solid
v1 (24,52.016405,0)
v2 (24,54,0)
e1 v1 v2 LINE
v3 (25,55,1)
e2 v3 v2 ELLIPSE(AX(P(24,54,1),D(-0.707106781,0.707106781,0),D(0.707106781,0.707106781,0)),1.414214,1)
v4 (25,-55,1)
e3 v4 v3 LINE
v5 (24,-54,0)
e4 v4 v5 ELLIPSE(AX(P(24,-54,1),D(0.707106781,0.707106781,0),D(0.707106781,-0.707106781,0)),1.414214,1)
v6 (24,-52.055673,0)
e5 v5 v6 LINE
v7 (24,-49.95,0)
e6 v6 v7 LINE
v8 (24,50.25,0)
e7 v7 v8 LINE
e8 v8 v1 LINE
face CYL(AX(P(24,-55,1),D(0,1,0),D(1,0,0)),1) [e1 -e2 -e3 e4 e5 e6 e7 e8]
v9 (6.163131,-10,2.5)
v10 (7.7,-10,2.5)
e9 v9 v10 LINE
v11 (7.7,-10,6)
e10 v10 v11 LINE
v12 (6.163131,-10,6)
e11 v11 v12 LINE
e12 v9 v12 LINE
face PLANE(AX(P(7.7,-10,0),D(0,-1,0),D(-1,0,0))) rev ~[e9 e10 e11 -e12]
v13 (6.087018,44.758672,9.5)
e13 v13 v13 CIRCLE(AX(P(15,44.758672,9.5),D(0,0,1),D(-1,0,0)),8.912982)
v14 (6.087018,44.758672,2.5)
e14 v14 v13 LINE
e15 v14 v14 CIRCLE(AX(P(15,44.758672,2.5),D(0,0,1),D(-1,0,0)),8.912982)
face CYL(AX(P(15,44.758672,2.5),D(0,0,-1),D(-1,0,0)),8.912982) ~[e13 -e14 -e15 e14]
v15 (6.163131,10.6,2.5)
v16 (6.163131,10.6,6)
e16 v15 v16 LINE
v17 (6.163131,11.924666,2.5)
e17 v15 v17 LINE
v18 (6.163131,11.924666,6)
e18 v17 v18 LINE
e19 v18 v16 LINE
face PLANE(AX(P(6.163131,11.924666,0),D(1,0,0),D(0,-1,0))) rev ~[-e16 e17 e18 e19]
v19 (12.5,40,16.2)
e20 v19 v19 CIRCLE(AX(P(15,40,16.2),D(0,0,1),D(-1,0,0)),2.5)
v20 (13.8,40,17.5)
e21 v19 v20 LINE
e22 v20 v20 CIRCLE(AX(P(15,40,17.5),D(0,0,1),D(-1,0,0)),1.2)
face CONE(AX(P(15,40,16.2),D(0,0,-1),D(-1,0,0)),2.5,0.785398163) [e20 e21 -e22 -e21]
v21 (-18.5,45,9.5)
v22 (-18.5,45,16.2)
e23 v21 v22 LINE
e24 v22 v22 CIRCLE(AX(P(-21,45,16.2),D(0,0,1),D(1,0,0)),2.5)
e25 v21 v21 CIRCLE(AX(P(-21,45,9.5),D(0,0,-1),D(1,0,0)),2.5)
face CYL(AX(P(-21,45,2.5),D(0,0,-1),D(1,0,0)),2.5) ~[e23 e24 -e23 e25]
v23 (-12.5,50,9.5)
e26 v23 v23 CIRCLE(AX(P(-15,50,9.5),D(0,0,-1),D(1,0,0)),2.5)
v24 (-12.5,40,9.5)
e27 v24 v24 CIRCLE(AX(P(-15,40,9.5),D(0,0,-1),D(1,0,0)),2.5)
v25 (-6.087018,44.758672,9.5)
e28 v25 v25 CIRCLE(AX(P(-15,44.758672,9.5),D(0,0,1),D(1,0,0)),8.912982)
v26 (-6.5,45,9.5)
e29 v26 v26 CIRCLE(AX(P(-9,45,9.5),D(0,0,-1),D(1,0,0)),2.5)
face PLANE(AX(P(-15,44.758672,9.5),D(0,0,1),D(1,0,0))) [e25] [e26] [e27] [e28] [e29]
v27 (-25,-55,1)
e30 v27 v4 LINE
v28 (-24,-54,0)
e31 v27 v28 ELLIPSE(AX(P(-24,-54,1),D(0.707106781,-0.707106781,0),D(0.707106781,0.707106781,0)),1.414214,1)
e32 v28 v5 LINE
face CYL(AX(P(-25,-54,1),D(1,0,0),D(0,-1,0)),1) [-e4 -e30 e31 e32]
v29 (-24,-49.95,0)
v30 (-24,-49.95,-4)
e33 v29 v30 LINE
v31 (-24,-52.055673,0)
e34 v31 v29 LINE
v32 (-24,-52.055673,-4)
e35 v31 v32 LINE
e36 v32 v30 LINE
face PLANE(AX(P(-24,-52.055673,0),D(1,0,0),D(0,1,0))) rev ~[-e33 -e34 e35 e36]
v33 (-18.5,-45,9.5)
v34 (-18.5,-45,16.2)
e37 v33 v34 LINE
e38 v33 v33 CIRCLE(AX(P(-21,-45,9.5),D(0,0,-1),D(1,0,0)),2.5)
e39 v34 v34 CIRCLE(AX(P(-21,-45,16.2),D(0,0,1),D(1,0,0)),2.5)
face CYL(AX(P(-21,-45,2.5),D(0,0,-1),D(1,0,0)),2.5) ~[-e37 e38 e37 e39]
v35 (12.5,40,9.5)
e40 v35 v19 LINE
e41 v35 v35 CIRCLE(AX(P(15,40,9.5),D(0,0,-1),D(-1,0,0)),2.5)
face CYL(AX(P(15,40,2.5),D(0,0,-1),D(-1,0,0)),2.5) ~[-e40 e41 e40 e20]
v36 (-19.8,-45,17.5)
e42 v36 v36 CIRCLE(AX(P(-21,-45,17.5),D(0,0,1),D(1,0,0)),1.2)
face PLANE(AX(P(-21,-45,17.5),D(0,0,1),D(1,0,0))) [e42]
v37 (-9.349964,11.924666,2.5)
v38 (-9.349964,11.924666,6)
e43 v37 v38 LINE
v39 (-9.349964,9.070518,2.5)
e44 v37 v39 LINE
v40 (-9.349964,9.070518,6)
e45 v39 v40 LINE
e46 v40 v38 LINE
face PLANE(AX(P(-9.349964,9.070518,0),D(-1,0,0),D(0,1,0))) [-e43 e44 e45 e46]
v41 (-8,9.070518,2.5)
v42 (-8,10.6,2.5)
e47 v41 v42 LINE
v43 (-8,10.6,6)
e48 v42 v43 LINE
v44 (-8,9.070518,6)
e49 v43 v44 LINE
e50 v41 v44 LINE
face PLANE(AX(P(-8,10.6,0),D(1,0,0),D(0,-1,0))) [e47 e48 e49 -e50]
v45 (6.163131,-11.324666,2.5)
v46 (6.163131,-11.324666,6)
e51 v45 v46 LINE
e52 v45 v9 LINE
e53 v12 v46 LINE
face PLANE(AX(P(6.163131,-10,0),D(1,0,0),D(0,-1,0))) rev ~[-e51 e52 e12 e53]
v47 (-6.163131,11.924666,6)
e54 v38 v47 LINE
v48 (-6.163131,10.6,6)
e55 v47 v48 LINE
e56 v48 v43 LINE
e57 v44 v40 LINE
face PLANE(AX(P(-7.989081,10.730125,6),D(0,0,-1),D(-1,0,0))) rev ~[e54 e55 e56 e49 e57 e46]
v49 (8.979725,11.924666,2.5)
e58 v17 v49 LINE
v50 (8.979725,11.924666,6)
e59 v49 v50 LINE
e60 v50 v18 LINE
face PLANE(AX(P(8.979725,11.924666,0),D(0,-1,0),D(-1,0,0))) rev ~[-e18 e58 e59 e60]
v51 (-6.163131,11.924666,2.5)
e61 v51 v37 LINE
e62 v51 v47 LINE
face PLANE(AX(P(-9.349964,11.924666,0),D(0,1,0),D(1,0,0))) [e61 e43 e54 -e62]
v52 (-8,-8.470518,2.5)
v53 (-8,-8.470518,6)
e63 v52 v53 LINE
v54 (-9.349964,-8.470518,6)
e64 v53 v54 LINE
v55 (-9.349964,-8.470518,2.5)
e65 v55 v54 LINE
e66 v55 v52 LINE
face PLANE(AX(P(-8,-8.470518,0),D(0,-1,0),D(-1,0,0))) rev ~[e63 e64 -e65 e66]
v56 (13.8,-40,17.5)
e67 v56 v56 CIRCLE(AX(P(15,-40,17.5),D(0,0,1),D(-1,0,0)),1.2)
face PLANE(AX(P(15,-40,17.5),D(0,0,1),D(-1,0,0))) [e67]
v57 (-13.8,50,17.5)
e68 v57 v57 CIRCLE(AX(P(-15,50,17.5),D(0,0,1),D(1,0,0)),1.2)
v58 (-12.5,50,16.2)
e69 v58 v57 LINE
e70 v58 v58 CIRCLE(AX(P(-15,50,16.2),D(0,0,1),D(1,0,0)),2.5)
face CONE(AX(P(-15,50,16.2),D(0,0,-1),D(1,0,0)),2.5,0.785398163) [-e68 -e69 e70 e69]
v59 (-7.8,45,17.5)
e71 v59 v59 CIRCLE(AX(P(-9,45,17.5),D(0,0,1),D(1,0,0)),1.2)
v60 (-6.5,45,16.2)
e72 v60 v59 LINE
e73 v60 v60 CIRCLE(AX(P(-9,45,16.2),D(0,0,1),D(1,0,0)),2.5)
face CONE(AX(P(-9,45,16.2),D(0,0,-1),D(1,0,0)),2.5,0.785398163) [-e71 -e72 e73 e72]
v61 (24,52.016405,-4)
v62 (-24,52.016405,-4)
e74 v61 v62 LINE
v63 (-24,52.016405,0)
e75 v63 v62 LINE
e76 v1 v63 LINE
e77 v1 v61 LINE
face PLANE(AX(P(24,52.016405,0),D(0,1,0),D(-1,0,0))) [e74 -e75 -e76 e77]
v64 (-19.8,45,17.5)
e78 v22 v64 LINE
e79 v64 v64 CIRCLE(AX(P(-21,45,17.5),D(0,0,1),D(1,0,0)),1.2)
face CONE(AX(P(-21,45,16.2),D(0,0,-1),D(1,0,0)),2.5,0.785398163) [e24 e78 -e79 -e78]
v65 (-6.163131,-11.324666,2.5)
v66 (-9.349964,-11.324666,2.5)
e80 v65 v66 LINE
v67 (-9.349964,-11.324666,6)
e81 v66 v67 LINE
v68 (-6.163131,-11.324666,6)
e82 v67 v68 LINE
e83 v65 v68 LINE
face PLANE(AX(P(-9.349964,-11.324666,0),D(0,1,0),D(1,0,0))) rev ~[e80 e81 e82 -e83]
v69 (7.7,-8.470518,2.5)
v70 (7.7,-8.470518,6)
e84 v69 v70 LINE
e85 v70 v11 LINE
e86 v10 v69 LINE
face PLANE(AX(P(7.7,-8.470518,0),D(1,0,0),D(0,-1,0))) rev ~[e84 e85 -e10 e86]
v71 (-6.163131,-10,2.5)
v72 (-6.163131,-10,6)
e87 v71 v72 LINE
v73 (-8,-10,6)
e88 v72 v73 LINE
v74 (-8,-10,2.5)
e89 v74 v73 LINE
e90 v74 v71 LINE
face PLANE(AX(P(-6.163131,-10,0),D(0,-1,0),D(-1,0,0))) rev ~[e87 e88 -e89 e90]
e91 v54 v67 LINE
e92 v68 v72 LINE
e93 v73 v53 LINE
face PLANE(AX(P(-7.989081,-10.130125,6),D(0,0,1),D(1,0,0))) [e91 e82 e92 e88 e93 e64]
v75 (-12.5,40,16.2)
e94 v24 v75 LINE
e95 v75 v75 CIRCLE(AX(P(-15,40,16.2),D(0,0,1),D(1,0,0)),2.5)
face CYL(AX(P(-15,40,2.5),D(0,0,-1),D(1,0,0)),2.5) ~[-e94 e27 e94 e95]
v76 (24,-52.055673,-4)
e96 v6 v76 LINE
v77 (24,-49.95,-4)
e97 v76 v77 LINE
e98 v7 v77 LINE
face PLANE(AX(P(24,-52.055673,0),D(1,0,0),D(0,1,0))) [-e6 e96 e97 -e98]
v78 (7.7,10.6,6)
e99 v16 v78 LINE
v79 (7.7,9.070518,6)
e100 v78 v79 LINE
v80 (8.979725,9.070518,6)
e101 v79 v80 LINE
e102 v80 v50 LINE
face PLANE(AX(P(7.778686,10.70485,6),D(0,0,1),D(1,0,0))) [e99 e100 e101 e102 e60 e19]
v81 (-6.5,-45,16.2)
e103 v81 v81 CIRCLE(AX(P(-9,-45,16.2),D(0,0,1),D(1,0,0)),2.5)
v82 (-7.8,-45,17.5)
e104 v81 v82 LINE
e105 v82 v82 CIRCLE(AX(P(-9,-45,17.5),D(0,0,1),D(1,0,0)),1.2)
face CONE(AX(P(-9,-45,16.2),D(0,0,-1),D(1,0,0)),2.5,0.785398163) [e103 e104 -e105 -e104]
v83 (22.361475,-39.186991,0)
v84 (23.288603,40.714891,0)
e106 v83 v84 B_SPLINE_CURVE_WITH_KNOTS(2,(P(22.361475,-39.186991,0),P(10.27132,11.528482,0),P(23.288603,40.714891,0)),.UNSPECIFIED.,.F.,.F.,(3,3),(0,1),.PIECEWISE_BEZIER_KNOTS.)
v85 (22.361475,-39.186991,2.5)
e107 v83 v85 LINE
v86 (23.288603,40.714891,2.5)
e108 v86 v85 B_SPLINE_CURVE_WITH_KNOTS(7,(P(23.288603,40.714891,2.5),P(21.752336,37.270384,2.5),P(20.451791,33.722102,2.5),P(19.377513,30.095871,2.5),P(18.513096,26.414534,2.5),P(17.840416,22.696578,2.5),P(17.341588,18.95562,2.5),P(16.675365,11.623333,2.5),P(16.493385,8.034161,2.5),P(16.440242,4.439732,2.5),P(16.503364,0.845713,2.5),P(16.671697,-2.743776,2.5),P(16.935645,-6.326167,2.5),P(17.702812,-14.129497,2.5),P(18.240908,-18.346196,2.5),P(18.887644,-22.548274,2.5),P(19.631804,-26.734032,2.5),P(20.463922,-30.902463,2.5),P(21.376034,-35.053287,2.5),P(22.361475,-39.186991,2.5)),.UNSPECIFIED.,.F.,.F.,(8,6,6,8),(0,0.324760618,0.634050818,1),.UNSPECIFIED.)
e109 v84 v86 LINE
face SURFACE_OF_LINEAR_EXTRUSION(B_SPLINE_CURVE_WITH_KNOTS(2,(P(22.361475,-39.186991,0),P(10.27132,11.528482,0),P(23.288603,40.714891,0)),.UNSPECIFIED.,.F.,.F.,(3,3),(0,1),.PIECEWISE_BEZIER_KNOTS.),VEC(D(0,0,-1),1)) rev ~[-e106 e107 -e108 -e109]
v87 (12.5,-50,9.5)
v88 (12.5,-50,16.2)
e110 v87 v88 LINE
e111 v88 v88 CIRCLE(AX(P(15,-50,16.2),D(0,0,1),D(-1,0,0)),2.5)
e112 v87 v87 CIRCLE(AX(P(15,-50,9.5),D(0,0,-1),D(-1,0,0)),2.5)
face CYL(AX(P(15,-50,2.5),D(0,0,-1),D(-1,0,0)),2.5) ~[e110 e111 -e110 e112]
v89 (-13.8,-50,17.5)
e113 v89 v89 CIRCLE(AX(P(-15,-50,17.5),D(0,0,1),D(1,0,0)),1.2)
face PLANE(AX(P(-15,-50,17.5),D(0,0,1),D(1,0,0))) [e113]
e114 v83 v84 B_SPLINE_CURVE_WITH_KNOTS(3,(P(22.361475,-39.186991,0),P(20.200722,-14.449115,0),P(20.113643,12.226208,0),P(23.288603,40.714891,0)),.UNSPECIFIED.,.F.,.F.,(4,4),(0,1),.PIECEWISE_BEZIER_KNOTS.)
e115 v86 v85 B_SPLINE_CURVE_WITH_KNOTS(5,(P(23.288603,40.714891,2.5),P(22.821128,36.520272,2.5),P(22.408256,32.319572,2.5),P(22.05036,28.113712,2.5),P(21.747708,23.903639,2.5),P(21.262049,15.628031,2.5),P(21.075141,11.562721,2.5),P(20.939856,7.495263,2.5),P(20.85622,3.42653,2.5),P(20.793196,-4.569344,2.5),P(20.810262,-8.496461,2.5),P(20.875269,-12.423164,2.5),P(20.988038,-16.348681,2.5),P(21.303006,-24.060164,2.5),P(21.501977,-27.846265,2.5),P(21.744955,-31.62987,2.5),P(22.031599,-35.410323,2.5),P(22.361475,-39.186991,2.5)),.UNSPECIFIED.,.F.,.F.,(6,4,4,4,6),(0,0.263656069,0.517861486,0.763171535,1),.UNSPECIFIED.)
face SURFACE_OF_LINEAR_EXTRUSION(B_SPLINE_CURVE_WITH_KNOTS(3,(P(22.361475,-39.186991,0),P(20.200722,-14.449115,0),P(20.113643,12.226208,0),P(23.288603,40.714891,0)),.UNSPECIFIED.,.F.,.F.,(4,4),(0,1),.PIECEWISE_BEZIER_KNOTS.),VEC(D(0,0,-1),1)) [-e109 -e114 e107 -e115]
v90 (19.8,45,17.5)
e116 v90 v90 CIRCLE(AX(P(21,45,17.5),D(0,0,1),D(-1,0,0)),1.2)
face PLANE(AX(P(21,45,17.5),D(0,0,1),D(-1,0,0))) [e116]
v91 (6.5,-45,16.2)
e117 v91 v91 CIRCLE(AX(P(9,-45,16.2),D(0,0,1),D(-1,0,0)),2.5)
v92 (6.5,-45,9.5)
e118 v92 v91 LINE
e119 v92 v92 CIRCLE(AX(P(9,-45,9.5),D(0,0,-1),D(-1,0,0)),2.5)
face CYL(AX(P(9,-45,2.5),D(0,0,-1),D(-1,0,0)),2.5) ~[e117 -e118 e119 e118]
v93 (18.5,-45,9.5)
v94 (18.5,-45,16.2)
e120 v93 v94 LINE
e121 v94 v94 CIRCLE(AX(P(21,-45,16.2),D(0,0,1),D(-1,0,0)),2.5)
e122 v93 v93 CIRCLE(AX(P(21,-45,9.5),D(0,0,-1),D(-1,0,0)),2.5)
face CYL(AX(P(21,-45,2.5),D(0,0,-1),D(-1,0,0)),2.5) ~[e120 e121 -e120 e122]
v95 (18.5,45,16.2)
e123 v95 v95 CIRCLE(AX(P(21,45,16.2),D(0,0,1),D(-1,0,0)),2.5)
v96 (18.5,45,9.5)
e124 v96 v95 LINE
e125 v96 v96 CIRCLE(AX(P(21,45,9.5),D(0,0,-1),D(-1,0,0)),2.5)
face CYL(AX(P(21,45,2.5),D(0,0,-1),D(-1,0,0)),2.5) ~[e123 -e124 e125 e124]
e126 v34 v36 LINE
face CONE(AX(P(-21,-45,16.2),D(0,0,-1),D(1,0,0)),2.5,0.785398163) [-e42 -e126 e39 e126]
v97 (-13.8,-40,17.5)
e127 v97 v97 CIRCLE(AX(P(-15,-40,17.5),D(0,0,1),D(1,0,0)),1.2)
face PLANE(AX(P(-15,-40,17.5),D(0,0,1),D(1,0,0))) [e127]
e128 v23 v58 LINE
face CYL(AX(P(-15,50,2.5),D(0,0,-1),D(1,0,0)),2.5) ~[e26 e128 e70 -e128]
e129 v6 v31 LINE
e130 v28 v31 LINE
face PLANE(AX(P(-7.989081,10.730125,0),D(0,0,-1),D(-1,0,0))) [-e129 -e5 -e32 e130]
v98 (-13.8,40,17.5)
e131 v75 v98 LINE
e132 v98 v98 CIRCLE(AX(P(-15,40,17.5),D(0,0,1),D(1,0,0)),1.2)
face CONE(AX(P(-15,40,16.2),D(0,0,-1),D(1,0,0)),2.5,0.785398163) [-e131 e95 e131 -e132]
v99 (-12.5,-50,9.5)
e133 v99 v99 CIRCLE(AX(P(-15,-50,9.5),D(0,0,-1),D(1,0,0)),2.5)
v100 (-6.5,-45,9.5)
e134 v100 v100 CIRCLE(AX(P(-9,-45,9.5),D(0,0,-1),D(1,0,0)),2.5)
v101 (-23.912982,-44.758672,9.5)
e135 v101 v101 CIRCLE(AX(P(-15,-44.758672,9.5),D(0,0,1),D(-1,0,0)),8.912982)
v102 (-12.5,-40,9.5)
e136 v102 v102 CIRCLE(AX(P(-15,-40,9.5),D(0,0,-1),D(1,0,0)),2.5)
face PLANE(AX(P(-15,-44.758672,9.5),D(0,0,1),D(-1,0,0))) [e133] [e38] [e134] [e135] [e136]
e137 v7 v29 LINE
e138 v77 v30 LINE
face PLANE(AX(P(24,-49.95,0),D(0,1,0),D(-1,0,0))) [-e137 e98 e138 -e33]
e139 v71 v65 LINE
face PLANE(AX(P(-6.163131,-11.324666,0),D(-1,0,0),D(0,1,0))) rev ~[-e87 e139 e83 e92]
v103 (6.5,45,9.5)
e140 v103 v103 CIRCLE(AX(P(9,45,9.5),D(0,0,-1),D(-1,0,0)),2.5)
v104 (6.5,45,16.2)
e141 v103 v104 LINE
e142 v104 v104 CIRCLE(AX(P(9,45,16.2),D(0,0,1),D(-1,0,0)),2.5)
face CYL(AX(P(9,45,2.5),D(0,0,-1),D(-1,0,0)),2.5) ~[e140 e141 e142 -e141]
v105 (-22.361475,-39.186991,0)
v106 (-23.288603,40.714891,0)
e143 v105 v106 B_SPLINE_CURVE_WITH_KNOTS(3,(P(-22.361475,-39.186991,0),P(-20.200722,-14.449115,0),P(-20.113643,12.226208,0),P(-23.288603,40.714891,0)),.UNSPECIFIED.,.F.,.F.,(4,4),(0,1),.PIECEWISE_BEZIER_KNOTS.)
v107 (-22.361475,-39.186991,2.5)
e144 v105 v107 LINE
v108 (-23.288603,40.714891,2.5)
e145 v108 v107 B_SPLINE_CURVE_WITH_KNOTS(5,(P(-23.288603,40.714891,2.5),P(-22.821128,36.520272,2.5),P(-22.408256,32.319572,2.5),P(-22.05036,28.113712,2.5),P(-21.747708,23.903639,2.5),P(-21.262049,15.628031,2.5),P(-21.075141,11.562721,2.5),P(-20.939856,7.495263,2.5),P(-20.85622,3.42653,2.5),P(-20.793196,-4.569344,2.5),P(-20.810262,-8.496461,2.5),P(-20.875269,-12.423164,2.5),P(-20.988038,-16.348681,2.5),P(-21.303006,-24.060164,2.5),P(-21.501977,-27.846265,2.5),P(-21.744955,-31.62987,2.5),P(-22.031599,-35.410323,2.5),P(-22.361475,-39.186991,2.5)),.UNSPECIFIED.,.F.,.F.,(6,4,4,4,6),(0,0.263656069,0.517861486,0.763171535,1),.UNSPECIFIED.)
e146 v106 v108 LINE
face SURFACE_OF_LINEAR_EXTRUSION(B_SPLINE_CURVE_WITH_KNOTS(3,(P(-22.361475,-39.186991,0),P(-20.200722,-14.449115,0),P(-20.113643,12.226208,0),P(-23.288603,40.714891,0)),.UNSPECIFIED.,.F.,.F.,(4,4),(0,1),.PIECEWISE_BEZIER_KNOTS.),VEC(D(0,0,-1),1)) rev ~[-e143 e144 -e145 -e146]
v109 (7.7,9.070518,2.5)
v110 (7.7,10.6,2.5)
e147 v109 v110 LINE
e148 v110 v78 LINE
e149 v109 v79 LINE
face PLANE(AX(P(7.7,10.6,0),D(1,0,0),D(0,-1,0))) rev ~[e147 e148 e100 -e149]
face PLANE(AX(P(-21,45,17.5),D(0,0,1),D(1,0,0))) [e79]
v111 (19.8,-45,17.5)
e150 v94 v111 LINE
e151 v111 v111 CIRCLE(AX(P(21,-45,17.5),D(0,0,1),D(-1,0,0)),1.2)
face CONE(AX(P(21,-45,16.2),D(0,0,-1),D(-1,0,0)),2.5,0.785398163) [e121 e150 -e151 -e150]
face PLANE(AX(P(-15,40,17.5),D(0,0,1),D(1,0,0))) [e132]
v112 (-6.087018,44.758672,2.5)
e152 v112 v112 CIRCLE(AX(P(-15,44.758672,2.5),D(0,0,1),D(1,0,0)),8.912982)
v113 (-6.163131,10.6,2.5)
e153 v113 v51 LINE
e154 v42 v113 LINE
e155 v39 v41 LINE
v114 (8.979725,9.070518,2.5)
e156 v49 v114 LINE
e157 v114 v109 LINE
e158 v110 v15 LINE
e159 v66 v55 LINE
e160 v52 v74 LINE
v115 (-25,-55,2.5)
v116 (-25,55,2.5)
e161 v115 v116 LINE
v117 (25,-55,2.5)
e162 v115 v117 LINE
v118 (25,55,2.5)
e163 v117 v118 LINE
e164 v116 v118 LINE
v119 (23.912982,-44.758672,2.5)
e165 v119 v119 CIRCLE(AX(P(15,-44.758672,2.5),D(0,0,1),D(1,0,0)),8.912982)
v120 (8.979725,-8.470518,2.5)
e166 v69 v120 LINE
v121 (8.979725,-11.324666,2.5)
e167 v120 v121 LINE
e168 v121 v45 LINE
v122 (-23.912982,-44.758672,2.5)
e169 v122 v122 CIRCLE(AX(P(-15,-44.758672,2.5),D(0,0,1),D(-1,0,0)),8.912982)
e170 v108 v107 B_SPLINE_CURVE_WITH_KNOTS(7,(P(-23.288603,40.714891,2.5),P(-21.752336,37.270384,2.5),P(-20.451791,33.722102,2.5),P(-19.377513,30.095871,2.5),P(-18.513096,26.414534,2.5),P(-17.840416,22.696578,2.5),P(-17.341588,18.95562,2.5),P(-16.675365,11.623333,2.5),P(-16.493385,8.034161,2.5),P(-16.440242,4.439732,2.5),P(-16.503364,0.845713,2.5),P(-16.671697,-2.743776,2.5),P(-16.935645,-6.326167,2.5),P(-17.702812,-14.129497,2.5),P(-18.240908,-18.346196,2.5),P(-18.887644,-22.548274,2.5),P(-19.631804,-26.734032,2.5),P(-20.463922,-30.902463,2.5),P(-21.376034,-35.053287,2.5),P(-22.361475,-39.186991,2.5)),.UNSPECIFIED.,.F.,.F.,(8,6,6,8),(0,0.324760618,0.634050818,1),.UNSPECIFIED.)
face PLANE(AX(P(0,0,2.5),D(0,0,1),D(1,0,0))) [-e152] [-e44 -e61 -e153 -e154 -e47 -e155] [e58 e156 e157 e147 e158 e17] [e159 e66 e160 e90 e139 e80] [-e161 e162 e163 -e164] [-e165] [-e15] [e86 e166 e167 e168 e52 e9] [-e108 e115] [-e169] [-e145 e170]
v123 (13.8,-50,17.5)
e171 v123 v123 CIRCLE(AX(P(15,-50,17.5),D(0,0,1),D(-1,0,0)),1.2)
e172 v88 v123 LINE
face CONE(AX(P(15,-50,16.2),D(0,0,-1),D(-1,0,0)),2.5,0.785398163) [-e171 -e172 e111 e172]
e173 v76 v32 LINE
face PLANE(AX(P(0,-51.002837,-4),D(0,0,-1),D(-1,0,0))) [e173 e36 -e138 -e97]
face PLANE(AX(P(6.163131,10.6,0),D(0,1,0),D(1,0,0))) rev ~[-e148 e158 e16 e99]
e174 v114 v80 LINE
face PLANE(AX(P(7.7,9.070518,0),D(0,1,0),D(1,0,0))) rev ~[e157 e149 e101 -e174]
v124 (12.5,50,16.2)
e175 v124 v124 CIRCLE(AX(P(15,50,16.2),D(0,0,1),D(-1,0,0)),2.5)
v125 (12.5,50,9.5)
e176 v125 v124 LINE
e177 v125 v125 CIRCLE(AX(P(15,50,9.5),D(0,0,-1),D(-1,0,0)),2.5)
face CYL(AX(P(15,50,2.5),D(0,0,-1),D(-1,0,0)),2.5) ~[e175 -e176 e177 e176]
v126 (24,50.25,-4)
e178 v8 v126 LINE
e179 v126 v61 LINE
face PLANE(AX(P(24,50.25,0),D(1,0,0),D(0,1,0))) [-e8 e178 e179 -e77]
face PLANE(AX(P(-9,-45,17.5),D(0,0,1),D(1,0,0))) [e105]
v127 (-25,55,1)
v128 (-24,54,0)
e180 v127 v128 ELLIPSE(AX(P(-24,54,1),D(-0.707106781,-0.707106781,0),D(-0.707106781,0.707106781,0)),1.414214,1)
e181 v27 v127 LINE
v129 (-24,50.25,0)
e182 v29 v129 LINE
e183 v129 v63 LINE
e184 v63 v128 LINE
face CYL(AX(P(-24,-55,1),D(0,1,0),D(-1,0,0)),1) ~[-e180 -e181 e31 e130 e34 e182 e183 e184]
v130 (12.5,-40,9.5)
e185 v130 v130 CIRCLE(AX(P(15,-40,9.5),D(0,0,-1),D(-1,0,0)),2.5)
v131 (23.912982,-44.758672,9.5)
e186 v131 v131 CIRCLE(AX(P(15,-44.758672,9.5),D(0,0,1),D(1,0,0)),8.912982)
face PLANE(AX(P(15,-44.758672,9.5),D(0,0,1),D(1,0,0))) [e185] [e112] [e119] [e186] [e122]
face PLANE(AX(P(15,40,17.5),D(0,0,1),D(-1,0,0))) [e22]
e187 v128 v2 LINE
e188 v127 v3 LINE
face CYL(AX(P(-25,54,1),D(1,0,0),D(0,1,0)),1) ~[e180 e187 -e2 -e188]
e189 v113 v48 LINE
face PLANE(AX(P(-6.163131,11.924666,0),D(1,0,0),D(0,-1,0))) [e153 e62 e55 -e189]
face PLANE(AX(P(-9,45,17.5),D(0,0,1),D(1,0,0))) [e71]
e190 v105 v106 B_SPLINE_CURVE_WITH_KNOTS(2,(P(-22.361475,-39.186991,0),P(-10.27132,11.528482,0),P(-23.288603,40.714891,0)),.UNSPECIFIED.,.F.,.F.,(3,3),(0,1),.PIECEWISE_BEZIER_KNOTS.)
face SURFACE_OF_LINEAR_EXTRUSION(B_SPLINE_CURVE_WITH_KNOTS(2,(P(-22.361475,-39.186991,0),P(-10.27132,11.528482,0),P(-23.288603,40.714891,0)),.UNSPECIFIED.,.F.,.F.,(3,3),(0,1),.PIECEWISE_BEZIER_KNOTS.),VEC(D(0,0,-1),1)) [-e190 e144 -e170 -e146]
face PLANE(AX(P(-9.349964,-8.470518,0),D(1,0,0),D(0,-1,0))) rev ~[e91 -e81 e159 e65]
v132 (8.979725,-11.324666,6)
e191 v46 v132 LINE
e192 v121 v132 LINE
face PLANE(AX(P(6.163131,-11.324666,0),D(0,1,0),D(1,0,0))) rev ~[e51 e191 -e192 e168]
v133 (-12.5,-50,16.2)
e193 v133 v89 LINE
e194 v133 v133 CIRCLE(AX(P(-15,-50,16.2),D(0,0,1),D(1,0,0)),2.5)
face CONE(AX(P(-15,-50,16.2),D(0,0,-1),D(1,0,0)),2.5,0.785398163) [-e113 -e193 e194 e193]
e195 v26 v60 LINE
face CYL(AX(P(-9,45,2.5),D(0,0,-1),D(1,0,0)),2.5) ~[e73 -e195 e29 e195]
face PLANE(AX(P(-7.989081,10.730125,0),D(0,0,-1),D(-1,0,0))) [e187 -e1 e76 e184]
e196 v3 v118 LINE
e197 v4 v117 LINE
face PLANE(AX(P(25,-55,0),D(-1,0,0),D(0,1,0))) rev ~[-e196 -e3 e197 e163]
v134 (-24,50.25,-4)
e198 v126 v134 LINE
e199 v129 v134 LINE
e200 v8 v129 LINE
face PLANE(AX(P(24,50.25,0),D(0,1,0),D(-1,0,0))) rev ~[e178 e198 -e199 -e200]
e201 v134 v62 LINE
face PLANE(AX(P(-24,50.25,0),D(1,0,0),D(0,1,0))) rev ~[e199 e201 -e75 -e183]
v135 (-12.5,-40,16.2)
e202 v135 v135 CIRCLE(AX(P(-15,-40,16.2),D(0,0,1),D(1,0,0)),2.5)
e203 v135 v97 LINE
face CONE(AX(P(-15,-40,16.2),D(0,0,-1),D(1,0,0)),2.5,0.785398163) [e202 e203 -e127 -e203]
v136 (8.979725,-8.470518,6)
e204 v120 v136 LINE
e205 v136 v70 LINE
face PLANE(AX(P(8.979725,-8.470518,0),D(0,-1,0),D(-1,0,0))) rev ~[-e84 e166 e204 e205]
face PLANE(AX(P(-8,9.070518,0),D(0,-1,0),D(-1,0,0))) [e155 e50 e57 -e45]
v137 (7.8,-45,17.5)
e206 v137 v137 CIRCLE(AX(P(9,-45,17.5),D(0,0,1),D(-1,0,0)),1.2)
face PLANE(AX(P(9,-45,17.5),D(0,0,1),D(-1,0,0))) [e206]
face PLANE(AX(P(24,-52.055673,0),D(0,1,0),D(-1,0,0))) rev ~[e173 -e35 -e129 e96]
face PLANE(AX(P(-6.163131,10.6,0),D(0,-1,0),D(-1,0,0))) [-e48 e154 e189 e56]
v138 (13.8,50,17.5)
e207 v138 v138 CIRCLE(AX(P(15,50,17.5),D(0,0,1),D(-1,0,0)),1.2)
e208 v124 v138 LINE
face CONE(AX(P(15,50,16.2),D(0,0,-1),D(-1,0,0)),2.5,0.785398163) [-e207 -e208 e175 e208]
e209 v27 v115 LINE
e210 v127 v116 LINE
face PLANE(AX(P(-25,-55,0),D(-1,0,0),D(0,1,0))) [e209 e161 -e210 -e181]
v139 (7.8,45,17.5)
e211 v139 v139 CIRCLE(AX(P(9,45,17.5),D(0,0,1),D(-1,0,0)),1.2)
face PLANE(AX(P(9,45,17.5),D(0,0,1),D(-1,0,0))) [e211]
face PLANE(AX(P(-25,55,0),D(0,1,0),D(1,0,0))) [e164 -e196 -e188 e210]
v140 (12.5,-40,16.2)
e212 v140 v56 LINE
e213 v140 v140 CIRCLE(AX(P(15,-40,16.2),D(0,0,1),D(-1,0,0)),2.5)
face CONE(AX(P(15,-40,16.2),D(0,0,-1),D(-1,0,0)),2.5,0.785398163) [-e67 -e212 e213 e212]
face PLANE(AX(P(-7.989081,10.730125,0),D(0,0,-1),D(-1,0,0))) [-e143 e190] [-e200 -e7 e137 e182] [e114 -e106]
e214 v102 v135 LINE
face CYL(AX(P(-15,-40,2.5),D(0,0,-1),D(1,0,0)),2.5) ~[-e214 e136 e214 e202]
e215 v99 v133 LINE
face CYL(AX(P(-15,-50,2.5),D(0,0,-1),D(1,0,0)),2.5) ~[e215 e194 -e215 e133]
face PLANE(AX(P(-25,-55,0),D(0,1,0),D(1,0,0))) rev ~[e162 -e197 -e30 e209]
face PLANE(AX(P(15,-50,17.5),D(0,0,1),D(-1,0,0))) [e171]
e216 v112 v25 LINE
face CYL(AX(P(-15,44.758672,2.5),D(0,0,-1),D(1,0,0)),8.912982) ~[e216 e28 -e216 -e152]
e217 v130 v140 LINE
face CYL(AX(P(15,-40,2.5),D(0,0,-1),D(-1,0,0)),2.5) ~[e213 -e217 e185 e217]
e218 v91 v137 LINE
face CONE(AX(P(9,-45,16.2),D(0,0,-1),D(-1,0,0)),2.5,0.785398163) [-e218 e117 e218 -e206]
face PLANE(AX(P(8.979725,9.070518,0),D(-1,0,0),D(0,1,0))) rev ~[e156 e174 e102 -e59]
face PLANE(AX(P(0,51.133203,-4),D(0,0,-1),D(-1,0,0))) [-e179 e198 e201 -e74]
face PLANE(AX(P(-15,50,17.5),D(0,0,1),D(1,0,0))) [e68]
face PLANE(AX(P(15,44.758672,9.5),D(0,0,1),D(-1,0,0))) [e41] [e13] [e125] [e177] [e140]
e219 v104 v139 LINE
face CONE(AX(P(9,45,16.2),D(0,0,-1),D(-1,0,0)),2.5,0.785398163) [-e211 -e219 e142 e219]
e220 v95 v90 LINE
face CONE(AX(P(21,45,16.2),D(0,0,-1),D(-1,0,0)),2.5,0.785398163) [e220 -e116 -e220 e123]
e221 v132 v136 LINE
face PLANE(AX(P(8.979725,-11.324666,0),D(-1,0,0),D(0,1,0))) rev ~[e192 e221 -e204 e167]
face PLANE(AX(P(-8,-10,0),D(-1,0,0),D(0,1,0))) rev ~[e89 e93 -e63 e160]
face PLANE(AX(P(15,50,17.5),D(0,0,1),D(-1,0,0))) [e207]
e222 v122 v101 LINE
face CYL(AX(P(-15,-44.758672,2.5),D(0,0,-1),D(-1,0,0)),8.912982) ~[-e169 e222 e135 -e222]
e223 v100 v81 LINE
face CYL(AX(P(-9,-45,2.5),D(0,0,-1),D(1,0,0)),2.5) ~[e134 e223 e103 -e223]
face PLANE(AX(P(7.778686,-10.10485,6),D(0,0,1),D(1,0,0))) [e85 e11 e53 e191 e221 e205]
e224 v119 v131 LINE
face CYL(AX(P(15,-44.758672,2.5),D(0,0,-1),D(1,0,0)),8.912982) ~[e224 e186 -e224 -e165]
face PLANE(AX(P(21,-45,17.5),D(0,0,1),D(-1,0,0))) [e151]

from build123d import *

# Parameters (mm, degrees)
CROQUIS1_W              = 50
CROQUIS1_H              = 110
SALIENTE_EXTRUIR1_DEPTH = 2.5
CROQUIS2_R              = 2.5
SALIENTE_EXTRUIR2_DEPTH = 15
CHAFL_N1_SIZE           = 1.3
REDONDEO1_R             = 1
CORTAR_EXTRUIR1_DEPTH   = 10
CROQUIS5_R              = 8.912982345
SALIENTE_EXTRUIR5_DEPTH = 7
SALIENTE_EXTRUIR6_DEPTH = 6
CROQUIS6_W              = 48
CROQUIS6_H              = 1.766405202
CROQUIS6_H_2            = 2.105673341
SALIENTE_EXTRUIR7_DEPTH = 4


with BuildPart() as part:
    # Croquis1 → Saliente-Extruir1 (new body)
    with BuildSketch(Plane.XY):
        Rectangle(CROQUIS1_W, CROQUIS1_H)
    extrude(amount=SALIENTE_EXTRUIR1_DEPTH)

    # Croquis2 → Saliente-Extruir2 (add)
    with BuildSketch(Plane.XY.offset(2.5)):
        with Locations((-15, 50)):
            Circle(CROQUIS2_R)
        with Locations((-21, 45)):
            Circle(CROQUIS2_R)
        with Locations((-15, 40)):
            Circle(CROQUIS2_R)
        with Locations((-9, 45)):
            Circle(CROQUIS2_R)
        with Locations((-15, -40)):
            Circle(CROQUIS2_R)
        with Locations((-9, -45)):
            Circle(CROQUIS2_R)
        with Locations((-15, -50)):
            Circle(CROQUIS2_R)
        with Locations((-21, -45)):
            Circle(CROQUIS2_R)
        with Locations((21, -45)):
            Circle(CROQUIS2_R)
        with Locations((15, -50)):
            Circle(CROQUIS2_R)
        with Locations((9, -45)):
            Circle(CROQUIS2_R)
        with Locations((15, -40)):
            Circle(CROQUIS2_R)
        with Locations((21, 45)):
            Circle(CROQUIS2_R)
        with Locations((15, 50)):
            Circle(CROQUIS2_R)
        with Locations((9, 45)):
            Circle(CROQUIS2_R)
        with Locations((15, 40)):
            Circle(CROQUIS2_R)
    extrude(amount=SALIENTE_EXTRUIR2_DEPTH)

    # Chaflán1
    chafl_n1_edges = [part.edges().sort_by_distance(p)[0] for p in [
        (-23.5, 45, 17.5),
        (-17.5, 40, 17.5),
        (-17.5, 50, 17.5),
        (-11.5, 45, 17.5),
        (6.5, 45, 17.5),
        (12.5, 40, 17.5),
        (12.5, 50, 17.5),
        (18.5, 45, 17.5),
        (18.5, -45, 17.5),
        (12.5, -50, 17.5),
        (12.5, -40, 17.5),
        (6.5, -45, 17.5),
        (-11.5, -45, 17.5),
        (-17.5, -50, 17.5),
        (-17.5, -40, 17.5),
        (-23.5, -45, 17.5),
    ]]
    chamfer(chafl_n1_edges, length=CHAFL_N1_SIZE)

    # Redondeo1
    redondeo1_edges = [part.edges().sort_by_distance(p)[0] for p in [
        (0, 55, 0),
        (-25, 0, 0),
        (0, -55, 0),
        (25, 0, 0),
    ]]
    fillet(redondeo1_edges, radius=REDONDEO1_R)

    # Croquis3 → Cortar-Extruir1 (cut)
    with BuildSketch(Plane(origin=(0, 0, 0), x_dir=(-1, 0, 0), z_dir=(0, 0, -1))):
        with BuildLine():
            add(Edge.make_bspline(
                [(22.361475253, -39.186991388), (10.271319675, 11.528482347), (23.288602916, 40.714890738)],
                knots=[0, 0, 0, 1, 1, 1], degree=2))
            add(Edge.make_bspline(
                [(22.361475253, -39.186991388), (20.200722134, -14.449114626), (20.113642926, 12.226208442), (23.288602916, 40.714890738)],
                knots=[0, 0, 0, 0, 1, 1, 1, 1], degree=3))
        make_face()
        with BuildLine():
            add(Edge.make_bspline(
                [(-22.361475253, -39.186991388), (-20.200722134, -14.449114626), (-20.113642926, 12.226208442), (-23.288602916, 40.714890738)],
                knots=[0, 0, 0, 0, 1, 1, 1, 1], degree=3))
            add(Edge.make_bspline(
                [(-22.361475253, -39.186991388), (-10.271319675, 11.528482347), (-23.288602916, 40.714890738)],
                knots=[0, 0, 0, 1, 1, 1], degree=2))
        make_face()
    extrude(amount=-CORTAR_EXTRUIR1_DEPTH, mode=Mode.SUBTRACT)

    # Croquis5 → Saliente-Extruir5 (add)
    with BuildSketch(Plane.XY.offset(2.5)):
        with Locations((-15, 44.758672209)):
            Circle(CROQUIS5_R)
        with Locations((-15, -44.758672209)):
            Circle(CROQUIS5_R)
        with Locations((15, 44.758672209)):
            Circle(CROQUIS5_R)
        with Locations((15, -44.758672209)):
            Circle(CROQUIS5_R)
    extrude(amount=SALIENTE_EXTRUIR5_DEPTH)

    # Croquis4 → Saliente-Extruir6 (add)
    with BuildSketch(Plane(origin=(0, 0, 0), x_dir=(-1, 0, 0), z_dir=(0, 0, -1))):
        Polygon((-7.7, 9.070517568), (-7.7, 10.6), (-6.163131116, 10.6), (-6.163131116, 11.924666471), (-8.979725427, 11.924666471), (-8.979725427, 9.070517568), align=None)
        Polygon((-6.163131116, -10), (-7.7, -10), (-7.7, -8.470517568), (-8.979725427, -8.470517568), (-8.979725427, -11.324666471), (-6.163131116, -11.324666471), align=None)
        Polygon((6.163131116, 10.6), (8, 10.6), (8, 9.070517568), (9.349963895, 9.070517568), (9.349963895, 11.924666471), (6.163131116, 11.924666471), align=None)
        Polygon((9.349963895, -8.470517568), (8, -8.470517568), (8, -10), (6.163131116, -10), (6.163131116, -11.324666471), (9.349963895, -11.324666471), align=None)
    extrude(amount=-SALIENTE_EXTRUIR6_DEPTH)

    # Croquis6 → Saliente-Extruir7 (add)
    with BuildSketch(Plane(origin=(0, 0, 0), x_dir=(-1, 0, 0), z_dir=(0, 0, -1))):
        with Locations((0, 51.133202601)):
            Rectangle(CROQUIS6_W, CROQUIS6_H)
        with Locations((0, -51.002836671)):
            Rectangle(CROQUIS6_W, CROQUIS6_H_2)
    extrude(amount=SALIENTE_EXTRUIR7_DEPTH)


solid = part.part
